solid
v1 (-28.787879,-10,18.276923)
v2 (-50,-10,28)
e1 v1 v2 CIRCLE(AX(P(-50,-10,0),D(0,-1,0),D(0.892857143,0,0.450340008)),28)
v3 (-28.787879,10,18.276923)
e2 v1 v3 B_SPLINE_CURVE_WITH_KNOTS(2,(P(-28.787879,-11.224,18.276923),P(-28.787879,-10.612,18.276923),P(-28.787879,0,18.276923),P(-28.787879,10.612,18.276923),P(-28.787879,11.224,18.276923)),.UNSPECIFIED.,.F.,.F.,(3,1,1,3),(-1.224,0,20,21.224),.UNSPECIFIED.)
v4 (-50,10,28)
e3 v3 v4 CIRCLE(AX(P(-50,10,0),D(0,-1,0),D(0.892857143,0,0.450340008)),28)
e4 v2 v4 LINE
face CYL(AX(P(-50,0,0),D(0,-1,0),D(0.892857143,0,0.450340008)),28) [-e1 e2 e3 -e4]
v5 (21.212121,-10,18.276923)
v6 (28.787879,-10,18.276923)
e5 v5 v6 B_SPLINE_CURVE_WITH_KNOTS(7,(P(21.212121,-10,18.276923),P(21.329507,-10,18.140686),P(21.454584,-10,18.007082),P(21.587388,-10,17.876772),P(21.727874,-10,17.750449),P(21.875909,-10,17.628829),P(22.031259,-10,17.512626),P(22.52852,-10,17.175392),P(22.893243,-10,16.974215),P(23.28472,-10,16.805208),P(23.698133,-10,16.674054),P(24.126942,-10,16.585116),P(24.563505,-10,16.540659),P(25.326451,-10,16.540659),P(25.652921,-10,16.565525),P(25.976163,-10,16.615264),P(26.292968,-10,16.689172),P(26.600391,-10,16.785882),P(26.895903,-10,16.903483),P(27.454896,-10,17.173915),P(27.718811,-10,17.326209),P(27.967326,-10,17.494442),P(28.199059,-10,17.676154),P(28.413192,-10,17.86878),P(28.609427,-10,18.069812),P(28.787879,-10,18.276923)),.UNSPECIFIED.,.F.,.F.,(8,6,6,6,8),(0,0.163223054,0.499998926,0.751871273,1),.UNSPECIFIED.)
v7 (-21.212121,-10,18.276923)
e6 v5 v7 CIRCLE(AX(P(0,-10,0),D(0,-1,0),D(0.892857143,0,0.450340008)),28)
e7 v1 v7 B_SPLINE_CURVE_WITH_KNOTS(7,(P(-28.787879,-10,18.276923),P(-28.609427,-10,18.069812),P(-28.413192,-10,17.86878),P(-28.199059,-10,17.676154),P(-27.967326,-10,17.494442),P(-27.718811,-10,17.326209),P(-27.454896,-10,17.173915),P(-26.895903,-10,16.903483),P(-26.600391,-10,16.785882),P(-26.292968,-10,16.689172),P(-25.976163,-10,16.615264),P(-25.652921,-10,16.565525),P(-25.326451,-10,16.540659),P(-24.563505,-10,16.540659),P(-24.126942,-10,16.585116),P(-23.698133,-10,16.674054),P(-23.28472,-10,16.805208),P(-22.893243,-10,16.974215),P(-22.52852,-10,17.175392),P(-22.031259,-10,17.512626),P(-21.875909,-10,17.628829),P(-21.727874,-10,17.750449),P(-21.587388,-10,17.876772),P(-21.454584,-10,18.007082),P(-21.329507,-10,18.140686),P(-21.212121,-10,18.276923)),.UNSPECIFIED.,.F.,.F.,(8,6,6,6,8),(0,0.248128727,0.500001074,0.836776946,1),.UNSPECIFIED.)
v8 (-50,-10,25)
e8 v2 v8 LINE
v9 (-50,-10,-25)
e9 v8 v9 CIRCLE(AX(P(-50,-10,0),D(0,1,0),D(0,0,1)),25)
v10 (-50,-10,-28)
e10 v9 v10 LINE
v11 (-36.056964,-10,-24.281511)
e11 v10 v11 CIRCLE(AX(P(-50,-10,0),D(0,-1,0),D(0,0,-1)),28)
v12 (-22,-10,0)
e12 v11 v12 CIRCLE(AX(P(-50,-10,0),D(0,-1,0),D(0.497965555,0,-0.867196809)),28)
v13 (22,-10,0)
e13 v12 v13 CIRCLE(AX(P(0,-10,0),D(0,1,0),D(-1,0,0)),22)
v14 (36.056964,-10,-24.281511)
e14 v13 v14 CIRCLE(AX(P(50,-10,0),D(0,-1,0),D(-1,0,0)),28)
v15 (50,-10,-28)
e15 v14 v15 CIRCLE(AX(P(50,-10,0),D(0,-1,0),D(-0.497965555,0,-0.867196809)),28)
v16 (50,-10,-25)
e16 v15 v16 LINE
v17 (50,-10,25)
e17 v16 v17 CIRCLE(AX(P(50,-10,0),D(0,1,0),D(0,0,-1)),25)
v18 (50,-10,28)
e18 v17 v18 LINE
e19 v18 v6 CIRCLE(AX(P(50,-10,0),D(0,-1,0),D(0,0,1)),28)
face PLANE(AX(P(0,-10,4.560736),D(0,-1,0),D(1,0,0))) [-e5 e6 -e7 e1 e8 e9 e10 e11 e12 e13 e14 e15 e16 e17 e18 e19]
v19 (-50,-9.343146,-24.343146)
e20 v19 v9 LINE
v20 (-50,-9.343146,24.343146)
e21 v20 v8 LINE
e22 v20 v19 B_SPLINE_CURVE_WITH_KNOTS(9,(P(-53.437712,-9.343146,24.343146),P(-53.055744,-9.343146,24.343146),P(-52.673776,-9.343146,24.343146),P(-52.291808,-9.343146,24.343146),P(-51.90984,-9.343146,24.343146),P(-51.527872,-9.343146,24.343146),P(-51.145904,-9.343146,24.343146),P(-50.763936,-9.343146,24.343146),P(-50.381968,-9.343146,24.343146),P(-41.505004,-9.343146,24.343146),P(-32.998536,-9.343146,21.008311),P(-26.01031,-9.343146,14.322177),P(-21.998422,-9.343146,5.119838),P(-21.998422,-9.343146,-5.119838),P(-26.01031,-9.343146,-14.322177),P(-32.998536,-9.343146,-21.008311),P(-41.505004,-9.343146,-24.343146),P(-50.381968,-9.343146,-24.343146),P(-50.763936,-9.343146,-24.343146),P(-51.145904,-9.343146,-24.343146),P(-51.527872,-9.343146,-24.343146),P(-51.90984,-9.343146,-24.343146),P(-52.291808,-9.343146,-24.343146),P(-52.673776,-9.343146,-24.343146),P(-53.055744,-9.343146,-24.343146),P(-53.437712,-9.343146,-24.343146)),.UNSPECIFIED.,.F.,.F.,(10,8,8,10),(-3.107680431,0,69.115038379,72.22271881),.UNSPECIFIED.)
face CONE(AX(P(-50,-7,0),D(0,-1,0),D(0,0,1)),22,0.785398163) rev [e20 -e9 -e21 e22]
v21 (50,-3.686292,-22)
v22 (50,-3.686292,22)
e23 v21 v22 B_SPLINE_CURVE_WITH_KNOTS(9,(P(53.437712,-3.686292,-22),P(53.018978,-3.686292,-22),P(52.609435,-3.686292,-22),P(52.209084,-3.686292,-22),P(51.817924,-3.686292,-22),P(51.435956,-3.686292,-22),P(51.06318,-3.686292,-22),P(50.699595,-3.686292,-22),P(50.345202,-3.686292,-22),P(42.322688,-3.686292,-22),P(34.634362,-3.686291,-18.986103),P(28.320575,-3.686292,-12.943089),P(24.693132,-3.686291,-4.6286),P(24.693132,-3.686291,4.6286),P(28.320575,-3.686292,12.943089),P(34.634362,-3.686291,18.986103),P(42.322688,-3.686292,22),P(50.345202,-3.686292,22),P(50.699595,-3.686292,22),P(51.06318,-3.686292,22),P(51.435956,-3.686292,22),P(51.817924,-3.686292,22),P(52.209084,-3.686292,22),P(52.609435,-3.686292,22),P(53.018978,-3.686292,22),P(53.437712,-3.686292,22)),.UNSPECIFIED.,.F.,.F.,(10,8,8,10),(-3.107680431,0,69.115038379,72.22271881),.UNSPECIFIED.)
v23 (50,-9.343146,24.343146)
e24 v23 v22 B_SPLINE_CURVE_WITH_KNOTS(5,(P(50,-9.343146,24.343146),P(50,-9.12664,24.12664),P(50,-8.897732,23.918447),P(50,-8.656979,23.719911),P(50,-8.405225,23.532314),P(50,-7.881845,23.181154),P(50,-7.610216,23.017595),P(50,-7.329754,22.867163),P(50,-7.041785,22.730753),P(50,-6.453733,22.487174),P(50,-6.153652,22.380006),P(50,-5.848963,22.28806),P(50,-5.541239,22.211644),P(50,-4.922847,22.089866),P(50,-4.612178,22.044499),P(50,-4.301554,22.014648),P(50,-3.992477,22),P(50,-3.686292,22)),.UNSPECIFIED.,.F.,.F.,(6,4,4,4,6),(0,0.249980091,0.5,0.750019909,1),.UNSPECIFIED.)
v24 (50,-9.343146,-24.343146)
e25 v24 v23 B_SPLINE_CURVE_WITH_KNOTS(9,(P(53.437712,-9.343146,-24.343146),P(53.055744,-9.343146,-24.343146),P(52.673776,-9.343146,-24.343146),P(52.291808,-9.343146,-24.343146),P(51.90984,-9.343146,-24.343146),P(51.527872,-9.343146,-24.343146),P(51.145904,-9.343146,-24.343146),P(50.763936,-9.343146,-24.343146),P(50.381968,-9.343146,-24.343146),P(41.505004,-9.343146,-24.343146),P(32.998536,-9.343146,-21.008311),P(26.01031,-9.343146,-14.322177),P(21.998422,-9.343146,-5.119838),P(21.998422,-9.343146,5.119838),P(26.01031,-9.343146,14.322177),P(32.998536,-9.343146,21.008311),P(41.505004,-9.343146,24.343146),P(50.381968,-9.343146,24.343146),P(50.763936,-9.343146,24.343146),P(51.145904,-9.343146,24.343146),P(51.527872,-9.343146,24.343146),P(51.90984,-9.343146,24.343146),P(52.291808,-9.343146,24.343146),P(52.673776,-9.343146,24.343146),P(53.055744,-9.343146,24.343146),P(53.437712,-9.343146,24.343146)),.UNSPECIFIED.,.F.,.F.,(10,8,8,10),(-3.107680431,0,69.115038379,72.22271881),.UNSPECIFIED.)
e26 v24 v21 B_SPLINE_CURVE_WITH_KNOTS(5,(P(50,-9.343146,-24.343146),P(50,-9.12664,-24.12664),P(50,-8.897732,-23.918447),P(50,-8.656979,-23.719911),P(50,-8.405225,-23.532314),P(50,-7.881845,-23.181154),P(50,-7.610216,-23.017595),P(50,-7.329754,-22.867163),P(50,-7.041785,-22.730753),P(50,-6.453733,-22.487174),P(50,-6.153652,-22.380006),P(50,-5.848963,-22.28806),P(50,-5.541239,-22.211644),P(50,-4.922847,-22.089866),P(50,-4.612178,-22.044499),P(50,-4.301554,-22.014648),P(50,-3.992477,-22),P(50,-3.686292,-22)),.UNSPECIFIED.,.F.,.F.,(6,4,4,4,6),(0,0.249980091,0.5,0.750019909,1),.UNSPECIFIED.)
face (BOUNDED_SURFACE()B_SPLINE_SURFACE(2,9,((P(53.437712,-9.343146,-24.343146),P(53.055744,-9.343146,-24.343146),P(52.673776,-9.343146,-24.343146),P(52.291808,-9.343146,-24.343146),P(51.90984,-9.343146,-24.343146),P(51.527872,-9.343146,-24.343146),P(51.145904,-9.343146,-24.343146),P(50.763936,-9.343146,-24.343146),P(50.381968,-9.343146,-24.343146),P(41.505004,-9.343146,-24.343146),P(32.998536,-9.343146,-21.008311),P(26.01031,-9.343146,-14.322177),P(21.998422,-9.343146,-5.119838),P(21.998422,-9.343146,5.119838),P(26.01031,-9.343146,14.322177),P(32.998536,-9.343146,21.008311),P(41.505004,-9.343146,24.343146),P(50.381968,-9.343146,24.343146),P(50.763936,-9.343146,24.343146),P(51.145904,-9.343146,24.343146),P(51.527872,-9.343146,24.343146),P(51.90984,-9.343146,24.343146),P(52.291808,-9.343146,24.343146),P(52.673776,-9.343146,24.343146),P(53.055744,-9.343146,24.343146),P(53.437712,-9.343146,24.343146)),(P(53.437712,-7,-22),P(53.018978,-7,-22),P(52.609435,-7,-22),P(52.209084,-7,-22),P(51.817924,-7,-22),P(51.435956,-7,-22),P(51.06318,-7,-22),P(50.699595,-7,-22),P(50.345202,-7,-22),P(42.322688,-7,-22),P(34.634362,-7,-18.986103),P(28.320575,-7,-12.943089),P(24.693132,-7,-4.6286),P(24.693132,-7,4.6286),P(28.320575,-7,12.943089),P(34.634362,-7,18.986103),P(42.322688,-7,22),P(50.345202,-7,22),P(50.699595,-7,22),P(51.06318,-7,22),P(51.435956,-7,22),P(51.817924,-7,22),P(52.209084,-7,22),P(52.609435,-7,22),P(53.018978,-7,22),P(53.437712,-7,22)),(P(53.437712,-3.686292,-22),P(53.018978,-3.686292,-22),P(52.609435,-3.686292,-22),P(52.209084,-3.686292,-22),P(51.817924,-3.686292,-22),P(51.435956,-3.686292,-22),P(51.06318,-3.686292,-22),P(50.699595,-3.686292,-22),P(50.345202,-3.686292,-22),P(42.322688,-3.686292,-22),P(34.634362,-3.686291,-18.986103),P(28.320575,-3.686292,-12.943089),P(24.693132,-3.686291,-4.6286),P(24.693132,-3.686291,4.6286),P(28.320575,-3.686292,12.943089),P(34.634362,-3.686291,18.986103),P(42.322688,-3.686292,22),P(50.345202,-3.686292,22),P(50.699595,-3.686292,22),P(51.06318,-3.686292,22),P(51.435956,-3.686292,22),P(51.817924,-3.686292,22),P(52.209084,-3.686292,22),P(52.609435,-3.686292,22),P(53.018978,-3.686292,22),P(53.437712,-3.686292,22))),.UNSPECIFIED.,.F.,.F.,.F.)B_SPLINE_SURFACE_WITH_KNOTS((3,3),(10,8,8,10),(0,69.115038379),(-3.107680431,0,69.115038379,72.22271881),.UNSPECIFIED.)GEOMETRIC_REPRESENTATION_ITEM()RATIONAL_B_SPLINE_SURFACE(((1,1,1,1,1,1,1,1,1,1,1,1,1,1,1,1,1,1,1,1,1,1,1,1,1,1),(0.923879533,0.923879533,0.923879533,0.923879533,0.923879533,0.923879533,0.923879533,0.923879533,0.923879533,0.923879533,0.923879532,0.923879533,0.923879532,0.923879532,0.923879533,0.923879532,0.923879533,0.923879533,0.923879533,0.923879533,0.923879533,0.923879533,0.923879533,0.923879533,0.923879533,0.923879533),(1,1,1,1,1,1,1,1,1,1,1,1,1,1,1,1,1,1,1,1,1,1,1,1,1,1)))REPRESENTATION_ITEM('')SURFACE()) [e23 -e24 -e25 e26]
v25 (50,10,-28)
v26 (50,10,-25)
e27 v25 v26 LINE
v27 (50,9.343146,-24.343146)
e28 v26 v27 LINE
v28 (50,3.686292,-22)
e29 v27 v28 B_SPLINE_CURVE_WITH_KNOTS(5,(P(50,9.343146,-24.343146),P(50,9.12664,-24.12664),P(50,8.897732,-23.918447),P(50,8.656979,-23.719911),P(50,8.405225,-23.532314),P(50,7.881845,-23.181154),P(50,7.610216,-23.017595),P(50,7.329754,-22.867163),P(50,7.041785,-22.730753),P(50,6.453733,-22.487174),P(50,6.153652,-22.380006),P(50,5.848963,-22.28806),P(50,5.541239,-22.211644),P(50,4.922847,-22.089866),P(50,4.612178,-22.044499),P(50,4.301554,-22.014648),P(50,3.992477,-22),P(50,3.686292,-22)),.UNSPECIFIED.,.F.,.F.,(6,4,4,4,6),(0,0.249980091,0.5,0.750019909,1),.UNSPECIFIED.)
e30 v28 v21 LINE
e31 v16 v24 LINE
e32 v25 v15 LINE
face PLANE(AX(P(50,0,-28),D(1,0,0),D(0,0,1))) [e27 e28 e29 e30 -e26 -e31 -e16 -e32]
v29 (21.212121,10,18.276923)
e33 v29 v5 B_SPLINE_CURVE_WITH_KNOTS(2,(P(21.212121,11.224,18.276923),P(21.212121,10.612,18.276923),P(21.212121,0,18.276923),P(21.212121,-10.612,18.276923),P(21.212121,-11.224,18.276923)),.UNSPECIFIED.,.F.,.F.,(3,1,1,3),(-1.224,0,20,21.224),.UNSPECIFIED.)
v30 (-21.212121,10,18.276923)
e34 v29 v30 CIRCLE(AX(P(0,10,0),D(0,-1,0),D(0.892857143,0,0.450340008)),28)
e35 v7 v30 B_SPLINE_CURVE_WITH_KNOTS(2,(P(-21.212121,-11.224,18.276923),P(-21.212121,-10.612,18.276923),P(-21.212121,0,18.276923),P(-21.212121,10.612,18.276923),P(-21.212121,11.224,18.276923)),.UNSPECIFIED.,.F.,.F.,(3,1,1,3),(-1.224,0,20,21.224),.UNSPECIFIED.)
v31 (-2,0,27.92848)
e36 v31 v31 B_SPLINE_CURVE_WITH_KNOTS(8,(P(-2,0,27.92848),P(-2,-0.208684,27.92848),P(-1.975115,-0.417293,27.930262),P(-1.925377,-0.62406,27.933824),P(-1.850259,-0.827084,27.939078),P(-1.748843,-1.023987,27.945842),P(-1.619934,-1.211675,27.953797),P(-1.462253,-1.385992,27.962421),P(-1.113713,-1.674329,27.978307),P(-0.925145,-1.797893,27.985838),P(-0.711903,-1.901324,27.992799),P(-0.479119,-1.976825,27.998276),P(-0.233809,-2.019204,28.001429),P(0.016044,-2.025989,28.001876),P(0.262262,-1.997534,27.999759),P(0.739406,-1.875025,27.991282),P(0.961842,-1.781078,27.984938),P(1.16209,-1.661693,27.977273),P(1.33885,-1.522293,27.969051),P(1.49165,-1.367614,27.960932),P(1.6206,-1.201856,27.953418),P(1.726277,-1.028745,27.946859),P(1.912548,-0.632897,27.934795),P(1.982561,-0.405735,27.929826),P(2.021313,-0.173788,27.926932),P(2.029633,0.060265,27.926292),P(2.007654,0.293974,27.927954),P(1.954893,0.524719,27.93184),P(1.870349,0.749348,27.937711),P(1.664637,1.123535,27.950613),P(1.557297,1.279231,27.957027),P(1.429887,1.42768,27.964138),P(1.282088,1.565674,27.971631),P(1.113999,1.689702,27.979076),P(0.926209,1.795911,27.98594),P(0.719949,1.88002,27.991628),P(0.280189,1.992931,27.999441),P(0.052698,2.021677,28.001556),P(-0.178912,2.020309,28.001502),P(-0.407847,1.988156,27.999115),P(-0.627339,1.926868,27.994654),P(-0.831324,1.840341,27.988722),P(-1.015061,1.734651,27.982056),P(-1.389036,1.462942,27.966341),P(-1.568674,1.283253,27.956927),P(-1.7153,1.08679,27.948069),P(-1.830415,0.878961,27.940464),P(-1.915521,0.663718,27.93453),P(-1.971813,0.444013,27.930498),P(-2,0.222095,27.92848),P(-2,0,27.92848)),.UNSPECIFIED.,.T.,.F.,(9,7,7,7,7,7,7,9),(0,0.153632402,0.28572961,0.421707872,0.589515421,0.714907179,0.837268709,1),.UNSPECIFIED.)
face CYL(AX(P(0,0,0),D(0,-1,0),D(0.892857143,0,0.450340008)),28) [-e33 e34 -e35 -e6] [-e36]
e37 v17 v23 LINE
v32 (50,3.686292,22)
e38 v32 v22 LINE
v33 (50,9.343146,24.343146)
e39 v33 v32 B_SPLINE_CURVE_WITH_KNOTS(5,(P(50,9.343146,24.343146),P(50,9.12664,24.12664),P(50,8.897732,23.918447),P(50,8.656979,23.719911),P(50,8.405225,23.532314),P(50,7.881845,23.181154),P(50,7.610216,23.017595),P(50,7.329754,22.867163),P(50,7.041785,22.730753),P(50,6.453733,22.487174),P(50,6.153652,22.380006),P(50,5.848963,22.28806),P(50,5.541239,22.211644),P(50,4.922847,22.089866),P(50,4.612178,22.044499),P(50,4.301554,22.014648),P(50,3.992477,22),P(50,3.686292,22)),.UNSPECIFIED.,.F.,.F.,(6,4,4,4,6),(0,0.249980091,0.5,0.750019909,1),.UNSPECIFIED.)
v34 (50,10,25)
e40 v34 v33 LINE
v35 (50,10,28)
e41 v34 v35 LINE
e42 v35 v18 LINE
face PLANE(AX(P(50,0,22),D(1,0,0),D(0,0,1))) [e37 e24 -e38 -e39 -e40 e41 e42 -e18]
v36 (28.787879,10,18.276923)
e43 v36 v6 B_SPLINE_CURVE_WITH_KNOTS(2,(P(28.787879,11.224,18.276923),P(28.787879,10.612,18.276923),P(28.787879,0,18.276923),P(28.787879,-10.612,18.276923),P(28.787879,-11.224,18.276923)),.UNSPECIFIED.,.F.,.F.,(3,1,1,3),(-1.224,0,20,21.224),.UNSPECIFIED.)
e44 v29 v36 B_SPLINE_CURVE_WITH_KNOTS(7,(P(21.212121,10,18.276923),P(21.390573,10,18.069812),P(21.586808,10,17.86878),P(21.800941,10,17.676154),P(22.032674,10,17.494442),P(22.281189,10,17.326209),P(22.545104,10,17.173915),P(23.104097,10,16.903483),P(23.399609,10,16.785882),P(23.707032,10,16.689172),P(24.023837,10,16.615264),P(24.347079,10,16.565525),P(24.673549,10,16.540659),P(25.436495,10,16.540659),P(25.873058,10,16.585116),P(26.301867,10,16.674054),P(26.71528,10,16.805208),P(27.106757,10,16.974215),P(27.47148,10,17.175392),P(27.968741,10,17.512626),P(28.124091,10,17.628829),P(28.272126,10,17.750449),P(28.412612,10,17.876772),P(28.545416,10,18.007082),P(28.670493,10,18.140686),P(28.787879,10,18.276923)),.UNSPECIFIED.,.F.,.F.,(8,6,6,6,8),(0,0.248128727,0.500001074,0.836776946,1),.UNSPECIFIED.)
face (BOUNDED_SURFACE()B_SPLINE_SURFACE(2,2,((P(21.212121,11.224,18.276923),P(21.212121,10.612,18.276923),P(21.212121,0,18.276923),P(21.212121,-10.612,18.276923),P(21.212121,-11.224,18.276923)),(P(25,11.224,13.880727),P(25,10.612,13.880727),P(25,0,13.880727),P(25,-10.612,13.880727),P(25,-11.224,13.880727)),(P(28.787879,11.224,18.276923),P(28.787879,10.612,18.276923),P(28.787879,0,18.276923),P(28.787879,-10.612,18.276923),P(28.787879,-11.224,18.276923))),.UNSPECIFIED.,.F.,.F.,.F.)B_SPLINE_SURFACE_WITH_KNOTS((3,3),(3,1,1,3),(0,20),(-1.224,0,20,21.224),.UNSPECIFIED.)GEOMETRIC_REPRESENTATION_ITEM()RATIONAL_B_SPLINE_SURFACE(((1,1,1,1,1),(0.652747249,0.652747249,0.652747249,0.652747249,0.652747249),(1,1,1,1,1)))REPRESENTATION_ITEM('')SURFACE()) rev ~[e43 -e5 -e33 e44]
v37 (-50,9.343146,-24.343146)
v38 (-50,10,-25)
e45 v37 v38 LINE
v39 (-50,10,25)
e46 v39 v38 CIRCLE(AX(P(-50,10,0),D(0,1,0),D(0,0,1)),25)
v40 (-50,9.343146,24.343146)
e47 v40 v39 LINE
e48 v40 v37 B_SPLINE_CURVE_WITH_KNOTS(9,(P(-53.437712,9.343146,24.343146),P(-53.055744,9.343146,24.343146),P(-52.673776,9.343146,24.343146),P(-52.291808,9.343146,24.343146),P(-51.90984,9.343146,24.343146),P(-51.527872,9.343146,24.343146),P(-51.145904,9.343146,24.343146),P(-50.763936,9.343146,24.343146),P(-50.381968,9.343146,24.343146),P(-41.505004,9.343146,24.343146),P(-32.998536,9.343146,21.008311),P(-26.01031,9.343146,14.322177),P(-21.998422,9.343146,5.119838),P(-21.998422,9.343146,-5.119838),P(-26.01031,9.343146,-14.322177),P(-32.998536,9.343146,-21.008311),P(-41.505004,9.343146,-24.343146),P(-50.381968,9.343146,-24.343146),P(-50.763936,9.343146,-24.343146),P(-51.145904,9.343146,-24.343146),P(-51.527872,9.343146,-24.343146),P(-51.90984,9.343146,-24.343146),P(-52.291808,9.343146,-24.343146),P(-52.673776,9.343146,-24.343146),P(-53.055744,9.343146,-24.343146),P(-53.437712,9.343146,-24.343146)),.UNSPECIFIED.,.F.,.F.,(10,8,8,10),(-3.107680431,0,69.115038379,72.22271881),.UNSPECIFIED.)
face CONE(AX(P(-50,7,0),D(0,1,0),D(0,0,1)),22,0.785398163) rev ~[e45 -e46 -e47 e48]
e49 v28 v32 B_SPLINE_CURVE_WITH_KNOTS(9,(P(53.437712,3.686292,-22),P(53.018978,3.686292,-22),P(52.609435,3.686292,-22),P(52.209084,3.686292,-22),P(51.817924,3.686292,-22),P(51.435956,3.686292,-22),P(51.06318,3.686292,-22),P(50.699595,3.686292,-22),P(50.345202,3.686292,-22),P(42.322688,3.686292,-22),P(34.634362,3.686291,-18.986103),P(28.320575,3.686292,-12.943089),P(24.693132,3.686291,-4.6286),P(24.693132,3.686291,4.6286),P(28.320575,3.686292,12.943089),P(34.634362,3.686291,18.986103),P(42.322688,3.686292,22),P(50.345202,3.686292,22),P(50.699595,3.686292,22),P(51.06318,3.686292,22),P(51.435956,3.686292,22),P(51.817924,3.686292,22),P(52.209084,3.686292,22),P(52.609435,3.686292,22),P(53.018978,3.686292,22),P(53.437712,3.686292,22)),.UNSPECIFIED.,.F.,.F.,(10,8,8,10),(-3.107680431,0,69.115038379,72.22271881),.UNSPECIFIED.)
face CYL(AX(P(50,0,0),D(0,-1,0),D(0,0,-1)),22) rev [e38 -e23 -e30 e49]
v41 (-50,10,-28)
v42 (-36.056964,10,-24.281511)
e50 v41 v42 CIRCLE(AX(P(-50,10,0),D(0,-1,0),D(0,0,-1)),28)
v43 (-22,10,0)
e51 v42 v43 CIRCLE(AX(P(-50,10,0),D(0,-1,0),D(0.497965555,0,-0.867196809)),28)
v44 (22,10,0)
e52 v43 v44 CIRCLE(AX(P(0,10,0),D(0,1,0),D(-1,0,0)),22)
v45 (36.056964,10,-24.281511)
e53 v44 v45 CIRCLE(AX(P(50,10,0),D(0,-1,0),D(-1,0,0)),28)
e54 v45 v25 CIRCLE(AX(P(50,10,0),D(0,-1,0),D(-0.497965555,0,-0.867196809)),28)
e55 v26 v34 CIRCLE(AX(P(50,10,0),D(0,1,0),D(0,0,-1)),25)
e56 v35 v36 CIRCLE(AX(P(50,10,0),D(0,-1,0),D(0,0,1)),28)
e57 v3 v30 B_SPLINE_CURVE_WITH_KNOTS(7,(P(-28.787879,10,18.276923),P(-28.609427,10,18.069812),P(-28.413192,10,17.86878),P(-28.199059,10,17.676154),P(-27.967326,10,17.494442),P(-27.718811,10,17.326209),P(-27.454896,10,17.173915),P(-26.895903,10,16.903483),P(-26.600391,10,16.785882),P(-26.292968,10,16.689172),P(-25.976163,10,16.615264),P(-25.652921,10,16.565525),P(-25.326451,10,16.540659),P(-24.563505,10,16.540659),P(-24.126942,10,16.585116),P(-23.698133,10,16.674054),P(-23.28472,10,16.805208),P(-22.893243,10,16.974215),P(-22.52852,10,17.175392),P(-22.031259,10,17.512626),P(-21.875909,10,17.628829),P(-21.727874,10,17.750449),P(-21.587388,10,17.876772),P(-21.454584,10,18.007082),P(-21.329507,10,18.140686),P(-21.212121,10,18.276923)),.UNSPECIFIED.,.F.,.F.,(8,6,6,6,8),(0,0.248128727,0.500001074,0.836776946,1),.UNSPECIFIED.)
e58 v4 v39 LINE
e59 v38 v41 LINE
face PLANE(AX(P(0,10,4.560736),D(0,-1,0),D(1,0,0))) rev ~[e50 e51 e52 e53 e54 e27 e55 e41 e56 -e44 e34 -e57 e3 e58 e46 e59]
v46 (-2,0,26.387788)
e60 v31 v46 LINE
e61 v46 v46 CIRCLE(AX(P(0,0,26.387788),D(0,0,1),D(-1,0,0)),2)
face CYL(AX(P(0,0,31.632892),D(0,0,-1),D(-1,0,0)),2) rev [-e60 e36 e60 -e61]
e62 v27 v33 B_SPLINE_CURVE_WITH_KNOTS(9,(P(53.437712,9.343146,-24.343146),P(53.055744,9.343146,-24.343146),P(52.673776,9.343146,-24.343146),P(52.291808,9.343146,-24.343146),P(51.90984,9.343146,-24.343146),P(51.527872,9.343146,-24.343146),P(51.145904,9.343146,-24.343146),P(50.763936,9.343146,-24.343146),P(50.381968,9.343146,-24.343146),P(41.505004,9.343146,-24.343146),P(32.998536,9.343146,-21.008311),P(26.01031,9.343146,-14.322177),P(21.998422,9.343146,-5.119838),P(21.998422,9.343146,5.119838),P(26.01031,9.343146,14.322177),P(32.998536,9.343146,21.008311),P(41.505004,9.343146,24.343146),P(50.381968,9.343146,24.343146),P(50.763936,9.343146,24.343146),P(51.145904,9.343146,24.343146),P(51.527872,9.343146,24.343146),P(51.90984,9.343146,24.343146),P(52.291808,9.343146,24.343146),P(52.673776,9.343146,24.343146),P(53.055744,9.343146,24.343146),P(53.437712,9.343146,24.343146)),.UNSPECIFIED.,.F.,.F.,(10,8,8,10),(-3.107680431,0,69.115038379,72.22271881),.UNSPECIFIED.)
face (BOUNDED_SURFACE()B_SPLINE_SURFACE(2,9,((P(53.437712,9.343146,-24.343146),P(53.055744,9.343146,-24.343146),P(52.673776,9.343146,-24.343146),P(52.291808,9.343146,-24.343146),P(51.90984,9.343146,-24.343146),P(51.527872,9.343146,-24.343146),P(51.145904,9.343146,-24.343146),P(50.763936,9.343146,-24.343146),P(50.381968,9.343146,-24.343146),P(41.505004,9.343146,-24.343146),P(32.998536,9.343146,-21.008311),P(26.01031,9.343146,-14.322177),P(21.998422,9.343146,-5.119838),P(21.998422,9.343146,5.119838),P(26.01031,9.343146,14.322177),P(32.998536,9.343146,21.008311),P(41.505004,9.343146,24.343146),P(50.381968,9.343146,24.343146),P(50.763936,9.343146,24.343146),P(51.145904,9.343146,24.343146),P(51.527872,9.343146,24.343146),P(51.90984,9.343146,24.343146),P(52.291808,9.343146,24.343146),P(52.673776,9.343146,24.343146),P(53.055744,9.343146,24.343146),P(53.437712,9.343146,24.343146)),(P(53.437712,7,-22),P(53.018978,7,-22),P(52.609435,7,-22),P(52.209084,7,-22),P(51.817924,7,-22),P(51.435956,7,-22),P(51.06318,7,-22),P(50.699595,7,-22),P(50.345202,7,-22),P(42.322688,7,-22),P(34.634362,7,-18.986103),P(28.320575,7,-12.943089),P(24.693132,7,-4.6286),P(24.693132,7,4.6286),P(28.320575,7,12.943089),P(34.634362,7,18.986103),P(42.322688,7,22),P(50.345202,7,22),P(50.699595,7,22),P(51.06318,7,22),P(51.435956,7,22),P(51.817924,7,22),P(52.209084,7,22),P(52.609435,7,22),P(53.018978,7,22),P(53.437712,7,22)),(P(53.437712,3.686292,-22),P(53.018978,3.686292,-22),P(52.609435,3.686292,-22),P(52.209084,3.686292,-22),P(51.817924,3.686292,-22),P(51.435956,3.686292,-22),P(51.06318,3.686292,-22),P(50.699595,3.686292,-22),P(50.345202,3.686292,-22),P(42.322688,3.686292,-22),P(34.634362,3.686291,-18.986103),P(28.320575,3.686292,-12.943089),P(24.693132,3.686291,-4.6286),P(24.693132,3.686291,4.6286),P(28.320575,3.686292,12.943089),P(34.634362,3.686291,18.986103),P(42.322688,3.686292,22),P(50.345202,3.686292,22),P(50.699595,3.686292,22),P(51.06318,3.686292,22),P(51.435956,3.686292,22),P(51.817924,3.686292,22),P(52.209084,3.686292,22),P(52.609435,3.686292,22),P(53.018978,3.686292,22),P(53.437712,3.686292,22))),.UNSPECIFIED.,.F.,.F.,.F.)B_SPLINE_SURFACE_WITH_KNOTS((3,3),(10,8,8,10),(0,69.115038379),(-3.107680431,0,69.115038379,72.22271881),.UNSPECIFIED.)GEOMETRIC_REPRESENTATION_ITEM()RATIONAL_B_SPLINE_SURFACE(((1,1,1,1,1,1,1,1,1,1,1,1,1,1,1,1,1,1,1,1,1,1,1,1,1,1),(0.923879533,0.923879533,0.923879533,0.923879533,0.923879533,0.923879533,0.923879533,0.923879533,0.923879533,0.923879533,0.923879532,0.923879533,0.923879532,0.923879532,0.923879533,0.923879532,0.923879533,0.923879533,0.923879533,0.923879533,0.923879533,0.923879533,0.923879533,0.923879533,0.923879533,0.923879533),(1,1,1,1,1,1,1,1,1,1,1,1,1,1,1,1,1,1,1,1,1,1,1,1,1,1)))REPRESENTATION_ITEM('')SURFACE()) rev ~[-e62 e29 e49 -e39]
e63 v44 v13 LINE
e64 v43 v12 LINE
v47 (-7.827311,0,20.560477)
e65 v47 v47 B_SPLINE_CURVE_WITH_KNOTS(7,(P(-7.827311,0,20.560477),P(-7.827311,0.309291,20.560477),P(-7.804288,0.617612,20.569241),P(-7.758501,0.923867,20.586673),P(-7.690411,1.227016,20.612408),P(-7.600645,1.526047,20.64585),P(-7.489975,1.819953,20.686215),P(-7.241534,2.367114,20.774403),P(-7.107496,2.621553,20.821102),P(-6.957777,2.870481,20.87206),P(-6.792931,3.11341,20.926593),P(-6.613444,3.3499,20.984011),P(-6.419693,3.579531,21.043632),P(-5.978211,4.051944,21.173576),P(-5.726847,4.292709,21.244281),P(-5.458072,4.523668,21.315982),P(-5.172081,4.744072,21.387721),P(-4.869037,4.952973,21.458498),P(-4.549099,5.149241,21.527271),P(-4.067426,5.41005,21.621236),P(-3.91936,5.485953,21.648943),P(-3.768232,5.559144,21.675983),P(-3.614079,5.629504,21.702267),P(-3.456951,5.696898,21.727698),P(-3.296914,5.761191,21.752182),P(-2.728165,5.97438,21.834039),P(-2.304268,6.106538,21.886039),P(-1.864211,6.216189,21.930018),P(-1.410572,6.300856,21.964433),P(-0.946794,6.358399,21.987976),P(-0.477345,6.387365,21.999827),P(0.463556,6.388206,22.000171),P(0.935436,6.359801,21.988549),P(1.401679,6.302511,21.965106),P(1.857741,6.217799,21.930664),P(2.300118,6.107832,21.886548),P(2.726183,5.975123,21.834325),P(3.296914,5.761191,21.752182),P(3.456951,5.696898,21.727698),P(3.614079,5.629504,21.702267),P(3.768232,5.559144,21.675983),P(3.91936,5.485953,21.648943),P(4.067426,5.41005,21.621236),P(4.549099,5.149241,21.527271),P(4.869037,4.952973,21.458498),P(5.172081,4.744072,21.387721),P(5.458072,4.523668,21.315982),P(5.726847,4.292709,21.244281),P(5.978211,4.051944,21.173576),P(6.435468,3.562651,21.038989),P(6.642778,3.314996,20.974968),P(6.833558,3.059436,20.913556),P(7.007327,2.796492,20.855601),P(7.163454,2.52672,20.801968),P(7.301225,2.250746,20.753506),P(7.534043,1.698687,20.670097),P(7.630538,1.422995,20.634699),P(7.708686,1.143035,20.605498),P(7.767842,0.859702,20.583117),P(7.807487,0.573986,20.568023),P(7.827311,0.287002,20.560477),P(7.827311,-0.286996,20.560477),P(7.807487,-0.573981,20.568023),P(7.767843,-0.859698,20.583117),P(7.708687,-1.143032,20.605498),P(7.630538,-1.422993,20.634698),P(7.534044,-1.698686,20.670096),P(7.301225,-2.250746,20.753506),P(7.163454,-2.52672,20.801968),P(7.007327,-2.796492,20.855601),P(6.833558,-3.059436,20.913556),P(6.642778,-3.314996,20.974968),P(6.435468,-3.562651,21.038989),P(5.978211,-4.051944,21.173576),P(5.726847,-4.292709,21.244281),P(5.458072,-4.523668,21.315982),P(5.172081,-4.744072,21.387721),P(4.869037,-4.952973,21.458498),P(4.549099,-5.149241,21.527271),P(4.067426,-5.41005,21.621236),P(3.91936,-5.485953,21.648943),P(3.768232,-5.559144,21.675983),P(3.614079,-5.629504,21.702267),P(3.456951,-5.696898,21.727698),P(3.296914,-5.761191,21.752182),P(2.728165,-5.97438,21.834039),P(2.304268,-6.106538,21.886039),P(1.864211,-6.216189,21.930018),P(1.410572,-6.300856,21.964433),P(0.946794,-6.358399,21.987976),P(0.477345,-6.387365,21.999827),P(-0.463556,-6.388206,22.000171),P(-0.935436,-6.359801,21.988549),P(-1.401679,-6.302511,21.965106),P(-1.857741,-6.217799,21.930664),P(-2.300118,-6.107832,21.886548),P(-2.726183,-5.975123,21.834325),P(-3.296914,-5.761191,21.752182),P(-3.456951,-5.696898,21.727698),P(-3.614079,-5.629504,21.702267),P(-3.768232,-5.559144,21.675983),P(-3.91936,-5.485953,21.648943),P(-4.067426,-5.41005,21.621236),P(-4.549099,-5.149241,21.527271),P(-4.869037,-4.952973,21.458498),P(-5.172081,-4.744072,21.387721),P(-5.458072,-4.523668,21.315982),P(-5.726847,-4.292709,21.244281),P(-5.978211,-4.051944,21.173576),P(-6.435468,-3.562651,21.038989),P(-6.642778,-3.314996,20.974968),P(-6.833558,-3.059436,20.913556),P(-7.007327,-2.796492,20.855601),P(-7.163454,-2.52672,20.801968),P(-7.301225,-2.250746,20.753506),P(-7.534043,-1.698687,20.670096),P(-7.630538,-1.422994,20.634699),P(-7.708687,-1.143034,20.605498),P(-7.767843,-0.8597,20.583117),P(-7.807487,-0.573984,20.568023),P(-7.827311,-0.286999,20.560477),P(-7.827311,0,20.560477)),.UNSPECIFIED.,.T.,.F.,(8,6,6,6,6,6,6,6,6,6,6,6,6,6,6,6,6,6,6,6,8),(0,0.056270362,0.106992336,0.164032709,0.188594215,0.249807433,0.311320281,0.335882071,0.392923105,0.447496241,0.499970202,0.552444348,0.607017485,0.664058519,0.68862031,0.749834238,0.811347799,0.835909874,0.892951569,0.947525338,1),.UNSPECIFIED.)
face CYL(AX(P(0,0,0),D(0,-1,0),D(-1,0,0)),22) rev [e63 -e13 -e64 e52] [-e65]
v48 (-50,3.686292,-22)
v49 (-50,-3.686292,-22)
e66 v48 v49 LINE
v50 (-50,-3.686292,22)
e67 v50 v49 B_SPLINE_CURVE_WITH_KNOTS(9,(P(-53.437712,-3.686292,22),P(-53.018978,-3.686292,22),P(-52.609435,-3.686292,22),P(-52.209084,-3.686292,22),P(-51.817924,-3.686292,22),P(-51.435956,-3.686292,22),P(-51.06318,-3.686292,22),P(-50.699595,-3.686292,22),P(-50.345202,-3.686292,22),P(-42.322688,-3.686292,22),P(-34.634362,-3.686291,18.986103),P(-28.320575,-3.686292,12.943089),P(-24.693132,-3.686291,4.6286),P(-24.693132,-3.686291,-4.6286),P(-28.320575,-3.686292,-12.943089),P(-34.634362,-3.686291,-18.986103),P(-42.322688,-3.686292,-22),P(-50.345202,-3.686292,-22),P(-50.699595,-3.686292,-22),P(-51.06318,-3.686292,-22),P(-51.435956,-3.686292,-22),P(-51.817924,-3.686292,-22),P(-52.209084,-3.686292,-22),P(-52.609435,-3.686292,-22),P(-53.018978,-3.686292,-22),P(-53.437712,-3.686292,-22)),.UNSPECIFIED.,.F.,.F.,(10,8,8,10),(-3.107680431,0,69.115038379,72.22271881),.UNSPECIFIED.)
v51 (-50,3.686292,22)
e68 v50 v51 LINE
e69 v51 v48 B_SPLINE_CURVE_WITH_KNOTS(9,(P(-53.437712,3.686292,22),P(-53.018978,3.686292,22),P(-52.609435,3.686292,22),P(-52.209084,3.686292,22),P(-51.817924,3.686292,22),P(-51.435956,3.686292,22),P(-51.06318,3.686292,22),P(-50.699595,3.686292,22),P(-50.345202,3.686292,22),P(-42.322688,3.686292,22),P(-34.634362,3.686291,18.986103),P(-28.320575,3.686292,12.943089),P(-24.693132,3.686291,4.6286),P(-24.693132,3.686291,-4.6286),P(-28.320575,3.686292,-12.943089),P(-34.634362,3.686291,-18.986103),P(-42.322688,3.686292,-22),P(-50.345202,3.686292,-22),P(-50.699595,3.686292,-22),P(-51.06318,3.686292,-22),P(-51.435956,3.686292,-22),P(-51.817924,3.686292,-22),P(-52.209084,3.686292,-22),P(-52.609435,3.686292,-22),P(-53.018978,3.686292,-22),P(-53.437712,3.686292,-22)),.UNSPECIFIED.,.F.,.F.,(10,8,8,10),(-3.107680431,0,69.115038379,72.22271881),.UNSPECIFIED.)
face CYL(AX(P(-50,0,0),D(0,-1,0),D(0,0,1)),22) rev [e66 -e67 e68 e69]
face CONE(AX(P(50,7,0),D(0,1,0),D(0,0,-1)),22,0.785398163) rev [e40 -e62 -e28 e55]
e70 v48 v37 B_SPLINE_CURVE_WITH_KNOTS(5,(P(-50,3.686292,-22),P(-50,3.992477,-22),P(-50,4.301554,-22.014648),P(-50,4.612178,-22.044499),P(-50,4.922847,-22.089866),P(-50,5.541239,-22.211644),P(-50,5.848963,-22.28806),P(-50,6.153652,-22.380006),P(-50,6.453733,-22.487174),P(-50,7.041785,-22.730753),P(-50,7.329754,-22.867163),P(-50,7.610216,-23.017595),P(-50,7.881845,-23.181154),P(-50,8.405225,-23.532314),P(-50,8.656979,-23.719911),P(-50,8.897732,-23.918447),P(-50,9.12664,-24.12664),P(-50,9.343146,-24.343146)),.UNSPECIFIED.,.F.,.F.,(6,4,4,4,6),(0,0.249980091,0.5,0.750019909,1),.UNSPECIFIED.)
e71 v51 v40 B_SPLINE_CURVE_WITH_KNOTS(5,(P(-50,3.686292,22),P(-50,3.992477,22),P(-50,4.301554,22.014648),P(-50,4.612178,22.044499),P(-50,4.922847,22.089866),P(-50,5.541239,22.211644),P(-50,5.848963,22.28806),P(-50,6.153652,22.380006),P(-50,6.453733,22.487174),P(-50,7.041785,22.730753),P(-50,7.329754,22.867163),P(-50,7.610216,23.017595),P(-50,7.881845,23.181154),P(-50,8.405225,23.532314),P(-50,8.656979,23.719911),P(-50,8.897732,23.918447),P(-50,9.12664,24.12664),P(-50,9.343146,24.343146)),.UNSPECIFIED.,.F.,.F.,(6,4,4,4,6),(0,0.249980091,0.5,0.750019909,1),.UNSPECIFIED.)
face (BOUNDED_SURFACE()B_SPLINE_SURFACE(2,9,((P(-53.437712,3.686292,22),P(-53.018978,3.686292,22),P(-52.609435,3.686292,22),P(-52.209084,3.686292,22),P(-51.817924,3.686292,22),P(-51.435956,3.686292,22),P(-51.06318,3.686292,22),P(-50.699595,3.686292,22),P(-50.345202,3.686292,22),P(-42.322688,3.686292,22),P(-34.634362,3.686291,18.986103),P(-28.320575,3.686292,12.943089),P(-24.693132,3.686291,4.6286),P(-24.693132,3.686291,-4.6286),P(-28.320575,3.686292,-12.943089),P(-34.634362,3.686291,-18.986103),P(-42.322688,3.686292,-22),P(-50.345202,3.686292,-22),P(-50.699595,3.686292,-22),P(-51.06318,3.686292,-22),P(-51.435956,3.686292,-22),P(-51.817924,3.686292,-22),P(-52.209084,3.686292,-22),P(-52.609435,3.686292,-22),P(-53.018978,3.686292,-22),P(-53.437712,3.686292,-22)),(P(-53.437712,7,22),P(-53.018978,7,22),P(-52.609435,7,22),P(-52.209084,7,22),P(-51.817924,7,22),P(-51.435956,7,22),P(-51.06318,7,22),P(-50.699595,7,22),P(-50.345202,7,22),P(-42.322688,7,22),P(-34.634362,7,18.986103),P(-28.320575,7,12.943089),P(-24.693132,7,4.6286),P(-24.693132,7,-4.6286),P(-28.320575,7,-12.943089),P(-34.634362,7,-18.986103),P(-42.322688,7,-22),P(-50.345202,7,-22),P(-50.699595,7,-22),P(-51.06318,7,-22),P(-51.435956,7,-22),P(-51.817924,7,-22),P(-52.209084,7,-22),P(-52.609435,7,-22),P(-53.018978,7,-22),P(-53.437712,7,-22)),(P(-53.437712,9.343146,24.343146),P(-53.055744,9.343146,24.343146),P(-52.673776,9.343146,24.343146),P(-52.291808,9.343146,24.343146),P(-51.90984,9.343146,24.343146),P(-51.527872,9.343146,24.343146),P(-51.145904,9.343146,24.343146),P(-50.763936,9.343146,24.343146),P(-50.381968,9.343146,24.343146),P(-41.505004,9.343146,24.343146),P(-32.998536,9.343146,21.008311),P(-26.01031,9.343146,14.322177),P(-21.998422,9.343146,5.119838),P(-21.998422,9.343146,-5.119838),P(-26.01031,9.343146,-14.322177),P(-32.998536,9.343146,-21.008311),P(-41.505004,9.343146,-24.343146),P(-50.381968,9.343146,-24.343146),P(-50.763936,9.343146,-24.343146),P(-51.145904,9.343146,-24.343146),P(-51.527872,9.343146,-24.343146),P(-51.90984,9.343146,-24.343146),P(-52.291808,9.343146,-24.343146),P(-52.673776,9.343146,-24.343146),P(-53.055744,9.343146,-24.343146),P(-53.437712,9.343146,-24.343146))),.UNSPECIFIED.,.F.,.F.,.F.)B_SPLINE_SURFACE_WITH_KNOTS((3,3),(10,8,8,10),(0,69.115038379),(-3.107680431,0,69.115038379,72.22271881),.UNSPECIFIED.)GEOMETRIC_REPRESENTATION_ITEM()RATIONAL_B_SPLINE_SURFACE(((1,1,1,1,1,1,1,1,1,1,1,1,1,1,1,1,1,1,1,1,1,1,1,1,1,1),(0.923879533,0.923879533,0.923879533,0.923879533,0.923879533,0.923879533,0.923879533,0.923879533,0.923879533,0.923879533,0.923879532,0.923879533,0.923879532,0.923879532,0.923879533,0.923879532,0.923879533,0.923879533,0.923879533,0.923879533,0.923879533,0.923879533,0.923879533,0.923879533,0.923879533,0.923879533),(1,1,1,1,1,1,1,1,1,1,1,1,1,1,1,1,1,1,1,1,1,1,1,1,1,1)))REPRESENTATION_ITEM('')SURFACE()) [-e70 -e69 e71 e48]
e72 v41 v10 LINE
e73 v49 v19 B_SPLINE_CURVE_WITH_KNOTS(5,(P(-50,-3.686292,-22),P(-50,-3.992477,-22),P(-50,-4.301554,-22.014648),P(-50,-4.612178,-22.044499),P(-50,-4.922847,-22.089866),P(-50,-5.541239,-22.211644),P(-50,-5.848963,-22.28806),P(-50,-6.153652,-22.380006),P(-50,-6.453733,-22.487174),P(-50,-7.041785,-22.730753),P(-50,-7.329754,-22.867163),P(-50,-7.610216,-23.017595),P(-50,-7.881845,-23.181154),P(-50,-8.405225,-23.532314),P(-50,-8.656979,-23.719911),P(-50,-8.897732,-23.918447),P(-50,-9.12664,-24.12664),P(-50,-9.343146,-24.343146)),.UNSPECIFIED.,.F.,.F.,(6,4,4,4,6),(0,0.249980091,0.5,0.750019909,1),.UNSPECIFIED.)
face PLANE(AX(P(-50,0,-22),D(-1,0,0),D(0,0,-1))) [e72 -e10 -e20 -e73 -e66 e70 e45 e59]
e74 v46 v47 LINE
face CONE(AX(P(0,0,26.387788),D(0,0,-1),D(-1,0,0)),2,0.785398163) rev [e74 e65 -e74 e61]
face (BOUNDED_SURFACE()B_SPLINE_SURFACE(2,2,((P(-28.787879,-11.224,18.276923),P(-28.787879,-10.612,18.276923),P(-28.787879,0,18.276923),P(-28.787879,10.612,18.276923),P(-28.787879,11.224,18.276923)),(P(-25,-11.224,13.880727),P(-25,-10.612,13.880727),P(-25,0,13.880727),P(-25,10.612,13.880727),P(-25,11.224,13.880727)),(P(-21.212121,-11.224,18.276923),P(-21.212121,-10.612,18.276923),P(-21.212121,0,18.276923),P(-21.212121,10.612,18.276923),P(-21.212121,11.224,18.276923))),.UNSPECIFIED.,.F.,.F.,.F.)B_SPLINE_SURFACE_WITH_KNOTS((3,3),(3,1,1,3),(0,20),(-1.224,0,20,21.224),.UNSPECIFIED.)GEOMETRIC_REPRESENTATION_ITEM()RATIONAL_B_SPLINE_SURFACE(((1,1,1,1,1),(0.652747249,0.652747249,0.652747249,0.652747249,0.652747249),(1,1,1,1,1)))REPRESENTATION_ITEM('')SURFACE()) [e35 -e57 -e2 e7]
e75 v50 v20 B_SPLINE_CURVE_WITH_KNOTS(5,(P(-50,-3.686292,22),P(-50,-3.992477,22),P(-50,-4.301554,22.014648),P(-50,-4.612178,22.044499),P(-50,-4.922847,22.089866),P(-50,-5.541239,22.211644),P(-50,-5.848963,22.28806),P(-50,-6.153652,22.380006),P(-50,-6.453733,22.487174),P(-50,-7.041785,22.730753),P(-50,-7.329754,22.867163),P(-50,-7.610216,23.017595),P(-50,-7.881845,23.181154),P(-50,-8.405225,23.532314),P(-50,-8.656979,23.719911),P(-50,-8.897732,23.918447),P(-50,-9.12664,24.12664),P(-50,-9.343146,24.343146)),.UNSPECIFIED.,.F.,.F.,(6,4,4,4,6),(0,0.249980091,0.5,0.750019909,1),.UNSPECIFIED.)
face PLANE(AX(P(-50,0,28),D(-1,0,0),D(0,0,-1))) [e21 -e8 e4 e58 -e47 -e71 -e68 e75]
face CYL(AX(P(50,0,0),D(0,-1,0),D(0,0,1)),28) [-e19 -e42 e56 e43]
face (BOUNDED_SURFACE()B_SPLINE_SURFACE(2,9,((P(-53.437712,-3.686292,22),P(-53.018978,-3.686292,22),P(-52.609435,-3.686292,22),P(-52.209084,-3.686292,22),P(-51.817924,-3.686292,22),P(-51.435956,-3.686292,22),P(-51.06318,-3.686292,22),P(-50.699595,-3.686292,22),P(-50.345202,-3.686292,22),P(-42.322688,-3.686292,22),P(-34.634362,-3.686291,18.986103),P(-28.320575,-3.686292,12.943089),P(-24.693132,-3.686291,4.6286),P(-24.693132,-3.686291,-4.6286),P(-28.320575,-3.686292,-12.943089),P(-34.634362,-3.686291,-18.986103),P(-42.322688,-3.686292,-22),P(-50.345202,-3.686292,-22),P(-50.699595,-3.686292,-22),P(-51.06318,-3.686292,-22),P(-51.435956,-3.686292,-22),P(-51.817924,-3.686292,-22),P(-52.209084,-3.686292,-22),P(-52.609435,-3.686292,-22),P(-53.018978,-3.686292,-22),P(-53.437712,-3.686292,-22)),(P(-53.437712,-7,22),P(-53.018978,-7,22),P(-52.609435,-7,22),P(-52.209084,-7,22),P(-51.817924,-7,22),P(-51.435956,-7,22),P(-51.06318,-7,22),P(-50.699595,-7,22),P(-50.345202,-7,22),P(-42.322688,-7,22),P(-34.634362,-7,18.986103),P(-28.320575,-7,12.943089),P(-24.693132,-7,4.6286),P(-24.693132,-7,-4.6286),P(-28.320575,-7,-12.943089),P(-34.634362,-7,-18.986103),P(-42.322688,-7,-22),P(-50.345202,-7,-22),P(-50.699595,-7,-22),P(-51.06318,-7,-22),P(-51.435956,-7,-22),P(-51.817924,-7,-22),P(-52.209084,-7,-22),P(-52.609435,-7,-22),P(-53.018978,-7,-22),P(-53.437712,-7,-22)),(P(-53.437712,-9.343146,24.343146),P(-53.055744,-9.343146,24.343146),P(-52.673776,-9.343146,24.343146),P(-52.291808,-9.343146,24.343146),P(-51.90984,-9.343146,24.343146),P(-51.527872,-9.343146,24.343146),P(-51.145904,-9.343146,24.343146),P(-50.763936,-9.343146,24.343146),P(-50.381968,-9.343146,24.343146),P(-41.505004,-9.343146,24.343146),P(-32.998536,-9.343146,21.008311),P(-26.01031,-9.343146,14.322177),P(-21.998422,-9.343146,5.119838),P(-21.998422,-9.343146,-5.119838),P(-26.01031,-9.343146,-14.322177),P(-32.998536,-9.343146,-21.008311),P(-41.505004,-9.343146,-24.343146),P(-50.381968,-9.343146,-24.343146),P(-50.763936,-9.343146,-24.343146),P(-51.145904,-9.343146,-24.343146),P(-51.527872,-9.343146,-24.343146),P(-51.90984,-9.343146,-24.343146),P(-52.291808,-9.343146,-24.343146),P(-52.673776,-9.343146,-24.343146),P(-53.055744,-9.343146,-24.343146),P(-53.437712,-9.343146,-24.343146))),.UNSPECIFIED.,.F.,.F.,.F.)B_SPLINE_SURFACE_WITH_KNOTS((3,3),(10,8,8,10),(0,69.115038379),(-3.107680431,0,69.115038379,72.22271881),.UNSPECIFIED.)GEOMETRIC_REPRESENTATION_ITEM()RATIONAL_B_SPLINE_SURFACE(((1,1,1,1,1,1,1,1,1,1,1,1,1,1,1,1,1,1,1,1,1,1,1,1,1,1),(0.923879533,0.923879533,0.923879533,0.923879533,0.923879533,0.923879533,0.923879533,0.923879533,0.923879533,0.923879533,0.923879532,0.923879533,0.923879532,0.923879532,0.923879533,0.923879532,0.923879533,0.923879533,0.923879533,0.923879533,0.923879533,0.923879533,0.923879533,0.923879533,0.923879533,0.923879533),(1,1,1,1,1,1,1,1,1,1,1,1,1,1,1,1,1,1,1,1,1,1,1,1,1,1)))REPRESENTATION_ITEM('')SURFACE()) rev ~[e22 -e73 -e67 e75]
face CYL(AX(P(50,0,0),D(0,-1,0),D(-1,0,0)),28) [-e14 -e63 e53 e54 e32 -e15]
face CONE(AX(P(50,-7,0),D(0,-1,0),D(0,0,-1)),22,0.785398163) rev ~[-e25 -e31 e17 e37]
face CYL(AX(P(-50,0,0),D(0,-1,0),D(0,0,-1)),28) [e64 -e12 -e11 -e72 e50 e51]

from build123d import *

# Parameters (mm, degrees)
F1_DEPTH = 10
F4_SIZE  = 3
F5_R     = 8
F6_R     = 5


with BuildPart() as f1:
    # F0 (on Front) → F1 (new body, symmetric)
    with BuildSketch(Plane.XZ):
        with BuildLine():
            ThreePointArc((-50, 22), (-28, 0), (-50, -22))
            Line((-50, -22), (-50, -28))
            ThreePointArc((-50, -28), (-42.7848180337, -27.0544109009), (-36.0569644542, -24.2815106566))
            ThreePointArc((-36.0569644542, -24.2815106566), (-25.7677384951, -14.0284533131), (-22, 0))
            ThreePointArc((-22, 0), (0, 22), (22, 0))
            ThreePointArc((22, 0), (25.7677384951, -14.0284533131), (36.0569644542, -24.2815106566))
            ThreePointArc((36.0569644542, -24.2815106566), (42.7848180337, -27.0544109009), (50, -28))
            Line((50, -28), (50, -22))
            ThreePointArc((50, -22), (28, 0), (50, 22))
            Line((50, 22), (50, 28))
            ThreePointArc((50, 28), (35.3212154107, 23.8439359792), (25, 12.6095202129))
            ThreePointArc((25, 12.6095202129), (0, 28), (-25, 12.6095202129))
            ThreePointArc((-25, 12.6095202129), (-35.3212154107, 23.8439359792), (-50, 28))
            Line((-50, 28), (-50, 22))
        make_face()
    extrude(amount=F1_DEPTH, both=True)

    # F2 (on Front) → F3 (revolve, cut)
    with BuildSketch(Plane.XZ):
        Polygon((0, 31.6328920043), (-2, 31.6328920043), (-2, 26.3877877519), (-8.5819354281, 19.8058523238), (0, 19.8058523238), align=None)
    revolve(axis=Axis((0, 0, 16.2401215483), (0, 0, 1)), mode=Mode.SUBTRACT)

    # F4
    f4_edges = [f1.edges().sort_by_distance(p)[0] for p in [
        (-28, 10, 0),
        (-28, -10, 0),
        (28, 10, 0),
        (28, -10, 0),
    ]]
    chamfer(f4_edges, length=F4_SIZE)

    # F5
    f5_edges = [f1.edges().sort_by_distance(p)[0] for p in [
        (-28, 7, 0),
        (-28, -7, 0),
        (28, 7, 0),
        (28, -7, 0),
    ]]
    fillet(f5_edges, radius=F5_R)

    # F6
    f6_edges = [f1.edges().sort_by_distance(p)[0] for p in [
        (25, 0, 12.60952),
        (-25, 0, 12.60952),
    ]]
    fillet(f6_edges, radius=F6_R)


solid = f1.part
